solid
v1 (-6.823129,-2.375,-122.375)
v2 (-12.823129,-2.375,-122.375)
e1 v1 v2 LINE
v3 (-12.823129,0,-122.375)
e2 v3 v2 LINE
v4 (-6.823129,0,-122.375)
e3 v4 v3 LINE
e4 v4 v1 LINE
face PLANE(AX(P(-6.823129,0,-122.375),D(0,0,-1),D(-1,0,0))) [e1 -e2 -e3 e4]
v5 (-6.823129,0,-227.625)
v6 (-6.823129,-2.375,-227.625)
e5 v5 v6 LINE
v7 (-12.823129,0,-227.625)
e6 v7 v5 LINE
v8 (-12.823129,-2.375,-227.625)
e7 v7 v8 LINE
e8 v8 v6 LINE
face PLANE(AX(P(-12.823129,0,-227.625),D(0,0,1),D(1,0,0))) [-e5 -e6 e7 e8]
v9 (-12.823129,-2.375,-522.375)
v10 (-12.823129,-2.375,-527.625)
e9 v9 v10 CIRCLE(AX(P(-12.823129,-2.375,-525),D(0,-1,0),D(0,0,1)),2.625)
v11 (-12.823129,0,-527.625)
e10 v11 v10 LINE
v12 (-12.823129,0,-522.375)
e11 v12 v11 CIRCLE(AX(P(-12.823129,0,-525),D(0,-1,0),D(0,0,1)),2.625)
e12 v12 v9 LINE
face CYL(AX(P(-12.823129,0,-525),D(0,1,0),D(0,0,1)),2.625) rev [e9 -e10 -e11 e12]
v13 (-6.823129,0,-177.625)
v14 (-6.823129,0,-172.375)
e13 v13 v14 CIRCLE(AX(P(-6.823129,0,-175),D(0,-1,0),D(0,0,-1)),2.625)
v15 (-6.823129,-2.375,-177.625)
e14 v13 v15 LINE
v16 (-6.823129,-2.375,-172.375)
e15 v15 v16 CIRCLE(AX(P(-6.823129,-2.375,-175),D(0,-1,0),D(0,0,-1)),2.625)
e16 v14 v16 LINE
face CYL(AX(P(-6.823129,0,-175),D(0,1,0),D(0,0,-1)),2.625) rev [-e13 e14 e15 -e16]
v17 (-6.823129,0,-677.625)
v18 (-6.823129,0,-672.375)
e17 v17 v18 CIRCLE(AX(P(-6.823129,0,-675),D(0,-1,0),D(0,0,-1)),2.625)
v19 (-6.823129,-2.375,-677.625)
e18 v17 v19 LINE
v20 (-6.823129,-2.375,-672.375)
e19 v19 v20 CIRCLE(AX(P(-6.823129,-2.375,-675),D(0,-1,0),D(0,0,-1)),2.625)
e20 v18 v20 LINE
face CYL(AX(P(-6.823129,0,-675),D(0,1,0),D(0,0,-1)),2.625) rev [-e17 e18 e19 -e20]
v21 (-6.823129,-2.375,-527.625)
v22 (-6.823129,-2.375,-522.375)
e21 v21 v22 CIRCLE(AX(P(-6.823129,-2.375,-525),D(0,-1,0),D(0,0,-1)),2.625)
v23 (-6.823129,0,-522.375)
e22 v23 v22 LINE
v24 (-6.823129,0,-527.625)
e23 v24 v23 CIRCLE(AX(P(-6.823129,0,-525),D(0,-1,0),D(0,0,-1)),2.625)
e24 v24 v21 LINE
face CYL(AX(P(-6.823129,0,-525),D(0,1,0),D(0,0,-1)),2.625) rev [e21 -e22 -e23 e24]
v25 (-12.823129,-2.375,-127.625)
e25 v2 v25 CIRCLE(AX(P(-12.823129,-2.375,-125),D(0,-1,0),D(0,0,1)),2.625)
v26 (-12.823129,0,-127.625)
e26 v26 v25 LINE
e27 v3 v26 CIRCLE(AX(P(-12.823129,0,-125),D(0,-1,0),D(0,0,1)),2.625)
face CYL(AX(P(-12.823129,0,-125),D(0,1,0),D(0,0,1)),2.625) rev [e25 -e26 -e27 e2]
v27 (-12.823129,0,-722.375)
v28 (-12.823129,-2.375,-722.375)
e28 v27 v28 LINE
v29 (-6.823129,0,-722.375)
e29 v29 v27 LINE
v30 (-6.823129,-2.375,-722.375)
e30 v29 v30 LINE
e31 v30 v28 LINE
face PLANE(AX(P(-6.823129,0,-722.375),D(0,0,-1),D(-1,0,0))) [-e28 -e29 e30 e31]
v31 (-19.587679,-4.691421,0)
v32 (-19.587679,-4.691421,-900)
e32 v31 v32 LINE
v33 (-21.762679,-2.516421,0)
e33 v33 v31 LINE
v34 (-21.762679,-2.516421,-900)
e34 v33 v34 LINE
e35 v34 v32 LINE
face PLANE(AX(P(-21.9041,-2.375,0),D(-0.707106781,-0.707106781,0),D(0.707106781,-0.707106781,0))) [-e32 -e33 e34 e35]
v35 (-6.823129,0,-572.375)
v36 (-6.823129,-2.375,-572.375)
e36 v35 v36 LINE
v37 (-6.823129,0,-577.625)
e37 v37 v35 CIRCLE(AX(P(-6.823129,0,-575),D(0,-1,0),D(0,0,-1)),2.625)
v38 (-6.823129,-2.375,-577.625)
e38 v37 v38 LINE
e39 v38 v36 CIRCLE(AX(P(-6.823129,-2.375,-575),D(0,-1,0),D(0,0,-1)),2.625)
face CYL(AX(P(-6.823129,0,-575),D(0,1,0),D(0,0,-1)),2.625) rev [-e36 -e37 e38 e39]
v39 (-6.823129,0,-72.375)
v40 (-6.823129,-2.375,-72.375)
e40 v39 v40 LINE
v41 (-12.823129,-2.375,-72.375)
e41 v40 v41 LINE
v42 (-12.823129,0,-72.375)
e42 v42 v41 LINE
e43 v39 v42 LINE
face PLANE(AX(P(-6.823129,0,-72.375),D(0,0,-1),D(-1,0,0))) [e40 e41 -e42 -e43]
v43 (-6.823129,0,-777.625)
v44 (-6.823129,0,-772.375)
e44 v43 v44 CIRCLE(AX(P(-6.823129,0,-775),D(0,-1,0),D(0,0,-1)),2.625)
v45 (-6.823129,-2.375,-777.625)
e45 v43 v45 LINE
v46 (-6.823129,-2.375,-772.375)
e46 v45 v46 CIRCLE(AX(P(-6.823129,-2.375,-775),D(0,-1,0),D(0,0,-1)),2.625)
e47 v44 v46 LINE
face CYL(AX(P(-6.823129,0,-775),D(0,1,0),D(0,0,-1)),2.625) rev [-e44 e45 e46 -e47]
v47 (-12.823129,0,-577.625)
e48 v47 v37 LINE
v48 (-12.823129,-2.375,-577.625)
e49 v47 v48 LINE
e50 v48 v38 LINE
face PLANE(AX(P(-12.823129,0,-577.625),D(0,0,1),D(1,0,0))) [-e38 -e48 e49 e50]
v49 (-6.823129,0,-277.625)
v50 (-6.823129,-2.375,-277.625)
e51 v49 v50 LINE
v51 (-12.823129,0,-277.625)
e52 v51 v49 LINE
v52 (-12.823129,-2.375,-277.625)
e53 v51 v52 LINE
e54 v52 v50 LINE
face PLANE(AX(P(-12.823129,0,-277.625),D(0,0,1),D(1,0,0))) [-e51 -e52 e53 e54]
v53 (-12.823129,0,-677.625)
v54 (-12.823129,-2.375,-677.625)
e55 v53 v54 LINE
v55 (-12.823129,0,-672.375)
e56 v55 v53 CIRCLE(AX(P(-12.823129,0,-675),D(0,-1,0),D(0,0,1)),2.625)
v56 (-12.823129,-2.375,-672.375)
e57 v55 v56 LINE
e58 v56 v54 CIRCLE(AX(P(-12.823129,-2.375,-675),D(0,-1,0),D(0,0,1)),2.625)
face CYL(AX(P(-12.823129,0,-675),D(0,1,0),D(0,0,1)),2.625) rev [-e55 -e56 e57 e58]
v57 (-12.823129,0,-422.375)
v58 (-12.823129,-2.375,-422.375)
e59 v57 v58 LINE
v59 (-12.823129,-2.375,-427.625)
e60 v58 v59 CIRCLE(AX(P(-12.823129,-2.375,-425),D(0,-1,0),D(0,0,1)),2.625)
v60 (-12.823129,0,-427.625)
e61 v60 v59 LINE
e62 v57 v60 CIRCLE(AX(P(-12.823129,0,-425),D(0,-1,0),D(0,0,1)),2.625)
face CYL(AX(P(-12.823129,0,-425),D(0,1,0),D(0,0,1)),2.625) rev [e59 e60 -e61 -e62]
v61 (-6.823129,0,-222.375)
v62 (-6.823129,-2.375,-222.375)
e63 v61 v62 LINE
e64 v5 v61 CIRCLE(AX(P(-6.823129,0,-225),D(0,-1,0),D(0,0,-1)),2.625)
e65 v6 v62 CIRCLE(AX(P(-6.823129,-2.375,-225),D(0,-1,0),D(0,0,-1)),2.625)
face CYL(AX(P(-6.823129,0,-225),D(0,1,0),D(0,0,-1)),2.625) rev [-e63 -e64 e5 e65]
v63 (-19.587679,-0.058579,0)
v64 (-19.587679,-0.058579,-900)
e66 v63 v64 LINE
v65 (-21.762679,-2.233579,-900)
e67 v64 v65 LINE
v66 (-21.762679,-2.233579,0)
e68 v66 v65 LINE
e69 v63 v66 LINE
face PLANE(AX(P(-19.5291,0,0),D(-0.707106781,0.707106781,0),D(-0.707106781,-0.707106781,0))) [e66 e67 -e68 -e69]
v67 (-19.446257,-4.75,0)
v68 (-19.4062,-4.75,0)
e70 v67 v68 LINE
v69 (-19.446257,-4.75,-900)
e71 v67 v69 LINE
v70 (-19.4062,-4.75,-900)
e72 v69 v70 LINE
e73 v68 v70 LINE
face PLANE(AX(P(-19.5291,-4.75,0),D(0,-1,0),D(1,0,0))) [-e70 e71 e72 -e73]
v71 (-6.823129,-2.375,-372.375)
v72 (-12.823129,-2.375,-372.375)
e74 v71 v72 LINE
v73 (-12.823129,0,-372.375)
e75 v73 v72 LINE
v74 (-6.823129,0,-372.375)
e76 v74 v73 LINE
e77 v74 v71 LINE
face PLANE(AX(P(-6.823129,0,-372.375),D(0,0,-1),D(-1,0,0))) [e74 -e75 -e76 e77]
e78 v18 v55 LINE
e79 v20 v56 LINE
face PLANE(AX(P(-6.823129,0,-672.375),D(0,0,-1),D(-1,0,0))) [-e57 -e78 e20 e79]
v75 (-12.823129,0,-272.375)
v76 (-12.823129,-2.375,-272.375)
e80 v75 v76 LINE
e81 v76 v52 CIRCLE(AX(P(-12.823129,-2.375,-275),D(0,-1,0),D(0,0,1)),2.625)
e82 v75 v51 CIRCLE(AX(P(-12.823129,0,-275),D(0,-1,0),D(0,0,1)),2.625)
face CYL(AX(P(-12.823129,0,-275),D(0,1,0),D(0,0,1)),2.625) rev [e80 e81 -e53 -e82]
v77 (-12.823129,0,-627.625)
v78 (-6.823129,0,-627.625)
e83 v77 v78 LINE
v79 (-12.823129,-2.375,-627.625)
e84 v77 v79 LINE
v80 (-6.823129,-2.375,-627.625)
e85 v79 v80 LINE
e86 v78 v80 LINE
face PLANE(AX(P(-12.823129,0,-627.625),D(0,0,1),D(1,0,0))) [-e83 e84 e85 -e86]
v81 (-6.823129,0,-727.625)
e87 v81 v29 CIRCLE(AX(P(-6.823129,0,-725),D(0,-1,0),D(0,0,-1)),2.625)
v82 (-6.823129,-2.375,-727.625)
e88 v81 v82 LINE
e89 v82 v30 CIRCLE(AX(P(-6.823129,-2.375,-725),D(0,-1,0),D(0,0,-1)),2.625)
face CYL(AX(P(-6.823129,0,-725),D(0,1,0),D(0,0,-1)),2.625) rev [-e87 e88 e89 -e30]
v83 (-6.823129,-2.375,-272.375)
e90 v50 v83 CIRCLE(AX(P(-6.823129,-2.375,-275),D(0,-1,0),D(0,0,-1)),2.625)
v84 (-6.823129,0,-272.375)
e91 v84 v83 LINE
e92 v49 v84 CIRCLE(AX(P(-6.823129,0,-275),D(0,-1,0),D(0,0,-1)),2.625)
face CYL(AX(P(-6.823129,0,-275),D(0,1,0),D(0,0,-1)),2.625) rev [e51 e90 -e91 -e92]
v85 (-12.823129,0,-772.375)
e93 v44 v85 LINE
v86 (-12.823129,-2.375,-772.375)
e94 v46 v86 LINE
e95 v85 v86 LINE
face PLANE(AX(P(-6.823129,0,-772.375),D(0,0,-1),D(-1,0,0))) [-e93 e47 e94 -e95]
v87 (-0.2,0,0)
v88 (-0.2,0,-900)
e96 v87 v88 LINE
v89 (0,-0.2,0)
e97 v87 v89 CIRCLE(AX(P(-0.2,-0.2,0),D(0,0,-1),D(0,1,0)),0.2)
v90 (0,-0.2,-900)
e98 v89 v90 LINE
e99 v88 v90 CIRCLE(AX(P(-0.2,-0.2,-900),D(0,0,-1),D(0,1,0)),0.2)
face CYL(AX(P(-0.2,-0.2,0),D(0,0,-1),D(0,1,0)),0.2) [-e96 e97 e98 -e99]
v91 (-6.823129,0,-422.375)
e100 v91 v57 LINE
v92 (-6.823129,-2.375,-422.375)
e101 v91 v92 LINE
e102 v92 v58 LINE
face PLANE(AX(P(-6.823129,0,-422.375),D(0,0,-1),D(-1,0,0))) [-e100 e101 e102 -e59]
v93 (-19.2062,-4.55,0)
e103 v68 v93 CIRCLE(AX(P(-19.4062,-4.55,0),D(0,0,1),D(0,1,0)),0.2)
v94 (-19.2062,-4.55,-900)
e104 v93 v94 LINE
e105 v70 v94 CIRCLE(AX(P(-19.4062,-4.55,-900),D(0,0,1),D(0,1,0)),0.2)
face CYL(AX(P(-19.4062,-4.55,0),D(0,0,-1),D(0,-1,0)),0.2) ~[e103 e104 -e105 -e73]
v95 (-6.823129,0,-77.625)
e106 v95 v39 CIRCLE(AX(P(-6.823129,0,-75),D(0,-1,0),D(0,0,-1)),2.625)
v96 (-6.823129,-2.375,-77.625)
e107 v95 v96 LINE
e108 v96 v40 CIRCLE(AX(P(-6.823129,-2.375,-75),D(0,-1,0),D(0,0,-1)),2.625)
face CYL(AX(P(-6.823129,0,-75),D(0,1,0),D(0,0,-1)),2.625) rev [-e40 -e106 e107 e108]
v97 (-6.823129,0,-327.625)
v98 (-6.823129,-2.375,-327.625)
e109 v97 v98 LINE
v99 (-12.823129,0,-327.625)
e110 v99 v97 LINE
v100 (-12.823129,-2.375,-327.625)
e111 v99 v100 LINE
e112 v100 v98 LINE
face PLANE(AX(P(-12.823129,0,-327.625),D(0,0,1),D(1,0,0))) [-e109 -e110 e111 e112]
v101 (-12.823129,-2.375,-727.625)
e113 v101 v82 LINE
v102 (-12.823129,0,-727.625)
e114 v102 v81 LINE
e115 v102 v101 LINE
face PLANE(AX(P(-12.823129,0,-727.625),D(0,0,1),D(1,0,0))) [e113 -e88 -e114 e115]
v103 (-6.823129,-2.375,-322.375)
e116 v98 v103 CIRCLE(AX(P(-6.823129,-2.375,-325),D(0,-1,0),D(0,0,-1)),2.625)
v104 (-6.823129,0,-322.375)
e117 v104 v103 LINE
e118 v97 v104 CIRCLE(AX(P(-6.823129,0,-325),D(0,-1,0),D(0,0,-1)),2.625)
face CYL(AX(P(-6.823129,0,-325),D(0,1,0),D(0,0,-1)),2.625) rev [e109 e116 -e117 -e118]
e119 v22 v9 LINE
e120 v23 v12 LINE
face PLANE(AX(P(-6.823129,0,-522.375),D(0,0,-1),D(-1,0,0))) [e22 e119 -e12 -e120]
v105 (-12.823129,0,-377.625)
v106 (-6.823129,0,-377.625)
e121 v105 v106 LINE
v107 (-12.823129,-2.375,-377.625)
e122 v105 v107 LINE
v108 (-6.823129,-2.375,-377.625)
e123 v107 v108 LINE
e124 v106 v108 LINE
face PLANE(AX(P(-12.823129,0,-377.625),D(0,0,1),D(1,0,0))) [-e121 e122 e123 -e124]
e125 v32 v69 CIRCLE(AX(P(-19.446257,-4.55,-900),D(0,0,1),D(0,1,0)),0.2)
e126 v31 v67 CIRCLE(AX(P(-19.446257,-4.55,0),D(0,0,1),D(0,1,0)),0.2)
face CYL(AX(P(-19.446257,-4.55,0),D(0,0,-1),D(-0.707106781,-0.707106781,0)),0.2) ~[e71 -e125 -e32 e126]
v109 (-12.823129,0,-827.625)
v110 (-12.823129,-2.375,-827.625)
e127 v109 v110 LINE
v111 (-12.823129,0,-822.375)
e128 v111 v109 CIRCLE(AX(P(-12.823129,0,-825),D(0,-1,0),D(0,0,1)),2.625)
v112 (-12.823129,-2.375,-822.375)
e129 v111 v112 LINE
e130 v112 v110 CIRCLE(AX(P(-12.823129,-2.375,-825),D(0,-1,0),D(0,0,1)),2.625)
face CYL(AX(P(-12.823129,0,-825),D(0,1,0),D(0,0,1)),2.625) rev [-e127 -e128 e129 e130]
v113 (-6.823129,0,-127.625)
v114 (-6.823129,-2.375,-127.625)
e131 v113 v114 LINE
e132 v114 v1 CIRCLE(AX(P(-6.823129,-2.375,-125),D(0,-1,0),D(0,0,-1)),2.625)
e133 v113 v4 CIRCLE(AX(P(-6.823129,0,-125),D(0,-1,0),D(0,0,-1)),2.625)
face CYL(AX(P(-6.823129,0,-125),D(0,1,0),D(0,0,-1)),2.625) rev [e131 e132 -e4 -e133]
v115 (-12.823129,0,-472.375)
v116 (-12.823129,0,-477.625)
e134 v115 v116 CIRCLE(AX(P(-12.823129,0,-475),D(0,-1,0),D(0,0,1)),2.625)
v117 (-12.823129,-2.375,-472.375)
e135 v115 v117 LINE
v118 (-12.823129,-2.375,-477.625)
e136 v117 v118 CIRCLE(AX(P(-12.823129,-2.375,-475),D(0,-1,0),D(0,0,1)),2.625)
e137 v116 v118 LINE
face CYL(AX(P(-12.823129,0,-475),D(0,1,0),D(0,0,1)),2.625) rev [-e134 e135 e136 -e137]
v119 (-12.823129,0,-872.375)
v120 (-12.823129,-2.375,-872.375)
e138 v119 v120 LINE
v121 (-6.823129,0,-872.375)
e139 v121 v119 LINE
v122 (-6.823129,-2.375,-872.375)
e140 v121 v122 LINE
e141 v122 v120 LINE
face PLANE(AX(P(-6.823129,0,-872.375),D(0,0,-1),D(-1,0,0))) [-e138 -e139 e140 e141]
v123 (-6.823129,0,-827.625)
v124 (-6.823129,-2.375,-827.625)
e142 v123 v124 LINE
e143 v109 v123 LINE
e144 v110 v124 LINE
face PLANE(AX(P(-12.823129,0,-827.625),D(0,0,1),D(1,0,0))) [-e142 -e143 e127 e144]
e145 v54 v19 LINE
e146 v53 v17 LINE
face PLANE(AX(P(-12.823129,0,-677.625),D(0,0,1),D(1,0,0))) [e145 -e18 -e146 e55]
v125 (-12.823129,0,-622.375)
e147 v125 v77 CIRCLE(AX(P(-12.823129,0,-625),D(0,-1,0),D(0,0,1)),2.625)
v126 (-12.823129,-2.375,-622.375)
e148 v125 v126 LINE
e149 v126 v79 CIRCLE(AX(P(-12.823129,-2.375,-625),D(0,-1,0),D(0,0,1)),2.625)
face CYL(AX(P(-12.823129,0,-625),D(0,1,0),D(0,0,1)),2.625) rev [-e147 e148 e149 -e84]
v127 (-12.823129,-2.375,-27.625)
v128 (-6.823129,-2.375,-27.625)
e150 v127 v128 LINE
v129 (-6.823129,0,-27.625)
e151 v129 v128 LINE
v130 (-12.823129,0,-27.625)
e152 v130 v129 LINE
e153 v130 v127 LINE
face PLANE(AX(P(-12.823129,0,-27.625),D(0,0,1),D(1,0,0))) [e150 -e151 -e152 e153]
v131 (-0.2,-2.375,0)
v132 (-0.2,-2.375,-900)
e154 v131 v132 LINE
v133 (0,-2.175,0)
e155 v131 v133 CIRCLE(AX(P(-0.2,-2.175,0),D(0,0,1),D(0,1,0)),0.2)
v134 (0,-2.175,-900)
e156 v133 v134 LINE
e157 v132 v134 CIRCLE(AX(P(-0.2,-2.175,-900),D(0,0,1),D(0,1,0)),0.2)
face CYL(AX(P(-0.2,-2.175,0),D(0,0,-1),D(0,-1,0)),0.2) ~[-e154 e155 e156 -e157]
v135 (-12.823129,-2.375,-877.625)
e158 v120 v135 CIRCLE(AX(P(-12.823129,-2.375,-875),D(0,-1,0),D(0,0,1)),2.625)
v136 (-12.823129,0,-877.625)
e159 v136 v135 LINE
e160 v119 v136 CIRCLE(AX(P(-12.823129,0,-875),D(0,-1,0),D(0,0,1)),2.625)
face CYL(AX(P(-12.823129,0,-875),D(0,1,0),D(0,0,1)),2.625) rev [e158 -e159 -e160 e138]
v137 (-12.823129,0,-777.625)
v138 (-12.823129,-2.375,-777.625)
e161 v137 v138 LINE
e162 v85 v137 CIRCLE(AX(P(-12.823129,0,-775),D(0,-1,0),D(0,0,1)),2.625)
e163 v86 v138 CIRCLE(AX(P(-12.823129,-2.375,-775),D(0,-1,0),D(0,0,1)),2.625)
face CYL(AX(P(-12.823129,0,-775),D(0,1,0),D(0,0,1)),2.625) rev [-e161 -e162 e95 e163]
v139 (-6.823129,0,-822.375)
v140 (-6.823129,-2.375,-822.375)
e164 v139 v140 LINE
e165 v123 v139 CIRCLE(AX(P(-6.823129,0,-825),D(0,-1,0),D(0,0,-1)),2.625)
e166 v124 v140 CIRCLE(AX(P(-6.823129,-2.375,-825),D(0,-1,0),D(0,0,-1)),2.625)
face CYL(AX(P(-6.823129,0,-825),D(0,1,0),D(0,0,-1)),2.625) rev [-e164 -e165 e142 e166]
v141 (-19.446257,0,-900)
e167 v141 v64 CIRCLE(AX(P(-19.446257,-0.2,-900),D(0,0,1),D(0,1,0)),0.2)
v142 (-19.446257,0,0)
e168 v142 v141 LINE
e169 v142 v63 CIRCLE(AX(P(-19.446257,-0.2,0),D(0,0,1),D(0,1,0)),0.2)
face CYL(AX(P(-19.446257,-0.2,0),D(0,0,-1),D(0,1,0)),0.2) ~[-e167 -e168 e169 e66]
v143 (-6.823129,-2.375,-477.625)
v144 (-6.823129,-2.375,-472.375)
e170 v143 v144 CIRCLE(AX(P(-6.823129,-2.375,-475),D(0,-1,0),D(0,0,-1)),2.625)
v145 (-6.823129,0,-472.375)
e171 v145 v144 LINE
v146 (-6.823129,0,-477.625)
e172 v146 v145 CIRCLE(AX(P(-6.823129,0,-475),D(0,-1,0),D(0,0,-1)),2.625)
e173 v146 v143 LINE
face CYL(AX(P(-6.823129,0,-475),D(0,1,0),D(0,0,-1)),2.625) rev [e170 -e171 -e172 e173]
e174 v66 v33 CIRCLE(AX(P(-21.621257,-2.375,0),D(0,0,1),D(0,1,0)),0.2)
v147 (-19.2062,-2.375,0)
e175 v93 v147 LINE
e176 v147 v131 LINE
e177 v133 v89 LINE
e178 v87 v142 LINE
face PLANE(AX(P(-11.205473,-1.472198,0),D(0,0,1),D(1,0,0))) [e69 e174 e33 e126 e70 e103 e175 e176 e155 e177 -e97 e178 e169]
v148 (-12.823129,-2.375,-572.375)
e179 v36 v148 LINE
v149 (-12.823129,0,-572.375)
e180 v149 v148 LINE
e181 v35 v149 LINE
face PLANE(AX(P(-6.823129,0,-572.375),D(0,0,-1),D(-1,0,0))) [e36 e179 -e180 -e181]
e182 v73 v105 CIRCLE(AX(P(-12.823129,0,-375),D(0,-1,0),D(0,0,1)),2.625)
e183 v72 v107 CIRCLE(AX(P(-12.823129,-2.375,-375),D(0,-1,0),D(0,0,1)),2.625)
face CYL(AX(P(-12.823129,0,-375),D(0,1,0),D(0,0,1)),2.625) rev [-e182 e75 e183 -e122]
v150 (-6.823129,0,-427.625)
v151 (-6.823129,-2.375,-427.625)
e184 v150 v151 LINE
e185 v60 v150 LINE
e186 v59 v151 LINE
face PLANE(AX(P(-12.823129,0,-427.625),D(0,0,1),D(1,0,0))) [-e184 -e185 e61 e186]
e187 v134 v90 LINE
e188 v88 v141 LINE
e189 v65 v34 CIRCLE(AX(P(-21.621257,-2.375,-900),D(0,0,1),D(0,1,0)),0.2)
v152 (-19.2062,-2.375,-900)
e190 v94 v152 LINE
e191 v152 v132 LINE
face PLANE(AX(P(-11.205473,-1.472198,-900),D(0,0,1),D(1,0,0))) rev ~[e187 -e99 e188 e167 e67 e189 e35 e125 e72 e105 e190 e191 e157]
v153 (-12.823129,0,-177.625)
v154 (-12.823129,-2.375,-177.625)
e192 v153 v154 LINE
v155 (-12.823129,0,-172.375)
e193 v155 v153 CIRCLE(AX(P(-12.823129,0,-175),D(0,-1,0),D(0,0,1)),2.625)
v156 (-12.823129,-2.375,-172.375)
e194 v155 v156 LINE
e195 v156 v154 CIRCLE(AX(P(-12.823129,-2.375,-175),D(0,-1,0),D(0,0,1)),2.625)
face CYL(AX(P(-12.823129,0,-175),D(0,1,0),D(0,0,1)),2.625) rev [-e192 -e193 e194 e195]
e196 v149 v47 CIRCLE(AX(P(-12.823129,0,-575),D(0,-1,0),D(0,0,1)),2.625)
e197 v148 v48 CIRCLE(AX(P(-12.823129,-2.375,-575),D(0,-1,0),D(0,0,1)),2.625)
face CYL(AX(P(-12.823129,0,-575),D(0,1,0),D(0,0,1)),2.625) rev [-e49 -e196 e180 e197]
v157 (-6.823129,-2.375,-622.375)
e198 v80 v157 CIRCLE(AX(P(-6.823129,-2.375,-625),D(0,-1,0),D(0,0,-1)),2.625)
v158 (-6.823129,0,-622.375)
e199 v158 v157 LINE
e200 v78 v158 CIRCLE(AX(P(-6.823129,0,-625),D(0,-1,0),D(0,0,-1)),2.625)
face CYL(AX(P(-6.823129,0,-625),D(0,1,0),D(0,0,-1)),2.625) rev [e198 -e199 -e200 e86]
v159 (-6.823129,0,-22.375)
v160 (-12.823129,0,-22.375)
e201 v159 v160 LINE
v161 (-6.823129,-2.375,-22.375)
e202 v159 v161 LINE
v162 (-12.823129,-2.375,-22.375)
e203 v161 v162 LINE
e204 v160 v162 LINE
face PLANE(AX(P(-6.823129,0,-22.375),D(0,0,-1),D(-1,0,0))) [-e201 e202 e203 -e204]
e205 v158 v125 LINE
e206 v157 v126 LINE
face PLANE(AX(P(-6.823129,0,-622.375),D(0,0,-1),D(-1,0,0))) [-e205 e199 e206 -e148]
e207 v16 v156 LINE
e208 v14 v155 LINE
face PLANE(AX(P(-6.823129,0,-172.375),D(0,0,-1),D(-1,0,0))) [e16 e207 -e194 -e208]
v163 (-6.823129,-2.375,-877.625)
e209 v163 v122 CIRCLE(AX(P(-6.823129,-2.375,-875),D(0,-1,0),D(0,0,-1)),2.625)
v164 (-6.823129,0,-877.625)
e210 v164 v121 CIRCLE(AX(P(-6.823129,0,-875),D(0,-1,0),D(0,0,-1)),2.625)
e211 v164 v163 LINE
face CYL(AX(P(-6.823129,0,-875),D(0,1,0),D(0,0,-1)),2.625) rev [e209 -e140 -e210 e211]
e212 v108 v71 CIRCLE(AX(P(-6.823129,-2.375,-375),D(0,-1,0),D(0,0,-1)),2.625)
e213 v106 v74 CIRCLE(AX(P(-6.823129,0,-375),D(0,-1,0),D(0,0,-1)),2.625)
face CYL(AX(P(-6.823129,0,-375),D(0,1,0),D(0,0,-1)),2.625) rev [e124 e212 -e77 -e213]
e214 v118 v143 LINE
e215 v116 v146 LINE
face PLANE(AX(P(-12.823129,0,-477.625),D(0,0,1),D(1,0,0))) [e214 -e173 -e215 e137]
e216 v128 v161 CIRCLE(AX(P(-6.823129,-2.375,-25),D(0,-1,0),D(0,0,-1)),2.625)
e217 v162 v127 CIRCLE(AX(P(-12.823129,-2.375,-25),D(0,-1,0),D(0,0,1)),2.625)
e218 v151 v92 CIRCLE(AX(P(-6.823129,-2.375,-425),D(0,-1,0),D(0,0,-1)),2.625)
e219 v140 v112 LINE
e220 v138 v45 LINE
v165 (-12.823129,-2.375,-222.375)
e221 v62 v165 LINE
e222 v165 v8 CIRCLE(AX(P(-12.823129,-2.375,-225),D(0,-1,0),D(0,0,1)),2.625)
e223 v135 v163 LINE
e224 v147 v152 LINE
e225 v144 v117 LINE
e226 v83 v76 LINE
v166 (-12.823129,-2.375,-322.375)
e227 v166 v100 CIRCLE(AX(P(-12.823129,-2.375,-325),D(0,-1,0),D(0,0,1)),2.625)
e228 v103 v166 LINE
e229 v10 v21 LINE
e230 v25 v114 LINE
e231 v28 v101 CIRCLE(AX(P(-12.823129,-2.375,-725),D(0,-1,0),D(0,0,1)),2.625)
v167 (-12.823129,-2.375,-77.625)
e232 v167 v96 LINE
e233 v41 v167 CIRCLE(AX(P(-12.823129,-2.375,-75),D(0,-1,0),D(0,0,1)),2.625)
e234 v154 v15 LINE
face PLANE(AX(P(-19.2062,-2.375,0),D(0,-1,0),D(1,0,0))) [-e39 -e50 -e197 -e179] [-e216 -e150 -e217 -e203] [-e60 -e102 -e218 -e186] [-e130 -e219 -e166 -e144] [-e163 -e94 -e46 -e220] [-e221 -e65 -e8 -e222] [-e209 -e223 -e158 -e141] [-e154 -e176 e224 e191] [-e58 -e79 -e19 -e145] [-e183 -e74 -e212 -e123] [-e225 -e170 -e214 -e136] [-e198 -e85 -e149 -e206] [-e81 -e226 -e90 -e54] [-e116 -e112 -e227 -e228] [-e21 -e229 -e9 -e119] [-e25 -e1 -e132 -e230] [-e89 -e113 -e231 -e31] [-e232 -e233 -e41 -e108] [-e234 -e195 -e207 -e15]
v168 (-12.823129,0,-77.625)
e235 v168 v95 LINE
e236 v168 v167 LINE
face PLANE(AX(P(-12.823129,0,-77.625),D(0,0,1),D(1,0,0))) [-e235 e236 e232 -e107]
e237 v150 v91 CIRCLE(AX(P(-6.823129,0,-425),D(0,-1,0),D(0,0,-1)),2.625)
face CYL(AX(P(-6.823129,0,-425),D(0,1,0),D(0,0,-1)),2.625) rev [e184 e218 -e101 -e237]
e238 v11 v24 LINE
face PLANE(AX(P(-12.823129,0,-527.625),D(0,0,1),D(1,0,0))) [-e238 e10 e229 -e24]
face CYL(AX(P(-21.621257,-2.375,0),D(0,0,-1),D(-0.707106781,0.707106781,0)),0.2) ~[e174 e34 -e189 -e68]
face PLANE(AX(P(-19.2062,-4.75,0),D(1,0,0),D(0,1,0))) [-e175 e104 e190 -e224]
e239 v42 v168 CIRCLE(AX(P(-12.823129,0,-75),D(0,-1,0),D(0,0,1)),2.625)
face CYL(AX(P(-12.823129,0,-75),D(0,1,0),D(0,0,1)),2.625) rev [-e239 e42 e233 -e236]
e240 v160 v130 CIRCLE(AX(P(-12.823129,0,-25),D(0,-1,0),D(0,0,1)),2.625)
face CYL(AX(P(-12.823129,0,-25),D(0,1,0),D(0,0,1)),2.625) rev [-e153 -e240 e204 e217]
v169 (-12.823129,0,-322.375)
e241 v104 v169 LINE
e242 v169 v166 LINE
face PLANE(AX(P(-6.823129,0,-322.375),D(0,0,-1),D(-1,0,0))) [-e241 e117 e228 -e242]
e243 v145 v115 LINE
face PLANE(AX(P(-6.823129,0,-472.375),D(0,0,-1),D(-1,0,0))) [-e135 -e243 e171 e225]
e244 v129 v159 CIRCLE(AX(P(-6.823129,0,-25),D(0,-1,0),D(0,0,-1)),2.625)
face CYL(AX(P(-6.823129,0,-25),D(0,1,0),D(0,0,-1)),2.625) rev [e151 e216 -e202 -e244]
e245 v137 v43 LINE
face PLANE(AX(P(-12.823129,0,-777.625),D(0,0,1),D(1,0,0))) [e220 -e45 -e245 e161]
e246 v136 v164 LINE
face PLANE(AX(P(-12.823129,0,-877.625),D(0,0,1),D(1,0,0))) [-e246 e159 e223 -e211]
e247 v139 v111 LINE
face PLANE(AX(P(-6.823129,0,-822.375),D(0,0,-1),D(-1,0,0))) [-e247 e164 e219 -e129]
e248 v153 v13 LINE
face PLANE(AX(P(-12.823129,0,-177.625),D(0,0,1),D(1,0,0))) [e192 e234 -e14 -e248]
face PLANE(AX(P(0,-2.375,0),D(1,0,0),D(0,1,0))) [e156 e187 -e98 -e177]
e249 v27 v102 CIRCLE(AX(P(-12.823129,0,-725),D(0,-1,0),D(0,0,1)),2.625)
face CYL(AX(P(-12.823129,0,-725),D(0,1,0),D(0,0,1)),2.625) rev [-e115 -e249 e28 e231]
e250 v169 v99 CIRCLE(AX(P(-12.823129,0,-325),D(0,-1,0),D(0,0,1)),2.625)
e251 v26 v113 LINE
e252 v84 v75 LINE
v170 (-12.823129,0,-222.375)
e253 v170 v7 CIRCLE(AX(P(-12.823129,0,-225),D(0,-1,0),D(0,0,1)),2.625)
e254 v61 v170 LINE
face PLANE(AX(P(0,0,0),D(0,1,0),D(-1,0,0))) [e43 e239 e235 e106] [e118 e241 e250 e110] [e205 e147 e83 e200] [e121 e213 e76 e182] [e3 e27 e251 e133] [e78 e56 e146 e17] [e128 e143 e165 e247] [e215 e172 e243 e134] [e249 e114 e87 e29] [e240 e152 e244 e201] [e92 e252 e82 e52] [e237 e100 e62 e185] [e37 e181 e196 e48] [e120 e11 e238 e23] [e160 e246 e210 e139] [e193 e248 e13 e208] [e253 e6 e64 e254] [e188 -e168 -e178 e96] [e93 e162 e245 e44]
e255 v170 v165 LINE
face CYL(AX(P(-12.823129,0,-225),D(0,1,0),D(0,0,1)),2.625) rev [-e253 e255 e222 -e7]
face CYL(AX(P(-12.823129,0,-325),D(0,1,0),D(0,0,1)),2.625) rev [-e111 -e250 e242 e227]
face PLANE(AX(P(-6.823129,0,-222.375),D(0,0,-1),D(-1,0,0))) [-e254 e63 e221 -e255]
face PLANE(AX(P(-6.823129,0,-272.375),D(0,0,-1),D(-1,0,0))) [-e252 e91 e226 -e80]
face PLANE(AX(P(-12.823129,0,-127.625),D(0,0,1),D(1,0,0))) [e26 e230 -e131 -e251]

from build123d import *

# Parameters (mm, degrees)
BOSS_EXTRUDE1_DEPTH = 900
FILLET1_R           = 0.2
CUT_EXTRUDE1_DEPTH  = 2.375
LPATTERN1_COUNT     = 18
LPATTERN1_PITCH     = 50


with BuildPart() as part:
    # Sketch1 → Boss-Extrude1 (new body)
    with BuildSketch(Plane.XY):
        Polygon((0, 0), (-19.2062, 0), (-19.5291, 0), (-21.9041, -2.375), (-19.5291, -4.75), (-19.2062, -4.75), (-19.2062, -2.375), (0, -2.375), align=None)
    extrude(amount=-BOSS_EXTRUDE1_DEPTH)

    # Fillet1
    fillet1_edges = [part.edges().sort_by_distance(p)[0] for p in [
        (0, -2.375, -450),
        (-19.2062, -4.75, -450),
        (-19.5291, -4.75, -450),
        (-21.9041, -2.375, -450),
        (-19.5291, 0, -450),
        (0, 0, -450),
    ]]
    fillet(fillet1_edges, radius=FILLET1_R)

    # Sketch2 → Cut-Extrude1 (cut)
    with BuildSketch(Plane(origin=(0, 0, 0), x_dir=(1, 0, 0), z_dir=(0, 1, 0))):
        with BuildLine():
            Line((-12.823128644, 27.625), (-6.823128644, 27.625))
            ThreePointArc((-6.823128644, 27.625), (-4.198128644, 25), (-6.823128644, 22.375))
            Line((-6.823128644, 22.375), (-12.823128644, 22.375))
            ThreePointArc((-12.823128644, 22.375), (-15.448128644, 25), (-12.823128644, 27.625))
        make_face()
    cut_extrude1 = extrude(amount=-CUT_EXTRUDE1_DEPTH, mode=Mode.SUBTRACT)

    # LPattern1: Cut-Extrude1 ×18
    with Locations(*[(0, 0, -i * LPATTERN1_PITCH) for i in range(1, LPATTERN1_COUNT)]):
        add(cut_extrude1, mode=Mode.SUBTRACT)


solid = part.part
